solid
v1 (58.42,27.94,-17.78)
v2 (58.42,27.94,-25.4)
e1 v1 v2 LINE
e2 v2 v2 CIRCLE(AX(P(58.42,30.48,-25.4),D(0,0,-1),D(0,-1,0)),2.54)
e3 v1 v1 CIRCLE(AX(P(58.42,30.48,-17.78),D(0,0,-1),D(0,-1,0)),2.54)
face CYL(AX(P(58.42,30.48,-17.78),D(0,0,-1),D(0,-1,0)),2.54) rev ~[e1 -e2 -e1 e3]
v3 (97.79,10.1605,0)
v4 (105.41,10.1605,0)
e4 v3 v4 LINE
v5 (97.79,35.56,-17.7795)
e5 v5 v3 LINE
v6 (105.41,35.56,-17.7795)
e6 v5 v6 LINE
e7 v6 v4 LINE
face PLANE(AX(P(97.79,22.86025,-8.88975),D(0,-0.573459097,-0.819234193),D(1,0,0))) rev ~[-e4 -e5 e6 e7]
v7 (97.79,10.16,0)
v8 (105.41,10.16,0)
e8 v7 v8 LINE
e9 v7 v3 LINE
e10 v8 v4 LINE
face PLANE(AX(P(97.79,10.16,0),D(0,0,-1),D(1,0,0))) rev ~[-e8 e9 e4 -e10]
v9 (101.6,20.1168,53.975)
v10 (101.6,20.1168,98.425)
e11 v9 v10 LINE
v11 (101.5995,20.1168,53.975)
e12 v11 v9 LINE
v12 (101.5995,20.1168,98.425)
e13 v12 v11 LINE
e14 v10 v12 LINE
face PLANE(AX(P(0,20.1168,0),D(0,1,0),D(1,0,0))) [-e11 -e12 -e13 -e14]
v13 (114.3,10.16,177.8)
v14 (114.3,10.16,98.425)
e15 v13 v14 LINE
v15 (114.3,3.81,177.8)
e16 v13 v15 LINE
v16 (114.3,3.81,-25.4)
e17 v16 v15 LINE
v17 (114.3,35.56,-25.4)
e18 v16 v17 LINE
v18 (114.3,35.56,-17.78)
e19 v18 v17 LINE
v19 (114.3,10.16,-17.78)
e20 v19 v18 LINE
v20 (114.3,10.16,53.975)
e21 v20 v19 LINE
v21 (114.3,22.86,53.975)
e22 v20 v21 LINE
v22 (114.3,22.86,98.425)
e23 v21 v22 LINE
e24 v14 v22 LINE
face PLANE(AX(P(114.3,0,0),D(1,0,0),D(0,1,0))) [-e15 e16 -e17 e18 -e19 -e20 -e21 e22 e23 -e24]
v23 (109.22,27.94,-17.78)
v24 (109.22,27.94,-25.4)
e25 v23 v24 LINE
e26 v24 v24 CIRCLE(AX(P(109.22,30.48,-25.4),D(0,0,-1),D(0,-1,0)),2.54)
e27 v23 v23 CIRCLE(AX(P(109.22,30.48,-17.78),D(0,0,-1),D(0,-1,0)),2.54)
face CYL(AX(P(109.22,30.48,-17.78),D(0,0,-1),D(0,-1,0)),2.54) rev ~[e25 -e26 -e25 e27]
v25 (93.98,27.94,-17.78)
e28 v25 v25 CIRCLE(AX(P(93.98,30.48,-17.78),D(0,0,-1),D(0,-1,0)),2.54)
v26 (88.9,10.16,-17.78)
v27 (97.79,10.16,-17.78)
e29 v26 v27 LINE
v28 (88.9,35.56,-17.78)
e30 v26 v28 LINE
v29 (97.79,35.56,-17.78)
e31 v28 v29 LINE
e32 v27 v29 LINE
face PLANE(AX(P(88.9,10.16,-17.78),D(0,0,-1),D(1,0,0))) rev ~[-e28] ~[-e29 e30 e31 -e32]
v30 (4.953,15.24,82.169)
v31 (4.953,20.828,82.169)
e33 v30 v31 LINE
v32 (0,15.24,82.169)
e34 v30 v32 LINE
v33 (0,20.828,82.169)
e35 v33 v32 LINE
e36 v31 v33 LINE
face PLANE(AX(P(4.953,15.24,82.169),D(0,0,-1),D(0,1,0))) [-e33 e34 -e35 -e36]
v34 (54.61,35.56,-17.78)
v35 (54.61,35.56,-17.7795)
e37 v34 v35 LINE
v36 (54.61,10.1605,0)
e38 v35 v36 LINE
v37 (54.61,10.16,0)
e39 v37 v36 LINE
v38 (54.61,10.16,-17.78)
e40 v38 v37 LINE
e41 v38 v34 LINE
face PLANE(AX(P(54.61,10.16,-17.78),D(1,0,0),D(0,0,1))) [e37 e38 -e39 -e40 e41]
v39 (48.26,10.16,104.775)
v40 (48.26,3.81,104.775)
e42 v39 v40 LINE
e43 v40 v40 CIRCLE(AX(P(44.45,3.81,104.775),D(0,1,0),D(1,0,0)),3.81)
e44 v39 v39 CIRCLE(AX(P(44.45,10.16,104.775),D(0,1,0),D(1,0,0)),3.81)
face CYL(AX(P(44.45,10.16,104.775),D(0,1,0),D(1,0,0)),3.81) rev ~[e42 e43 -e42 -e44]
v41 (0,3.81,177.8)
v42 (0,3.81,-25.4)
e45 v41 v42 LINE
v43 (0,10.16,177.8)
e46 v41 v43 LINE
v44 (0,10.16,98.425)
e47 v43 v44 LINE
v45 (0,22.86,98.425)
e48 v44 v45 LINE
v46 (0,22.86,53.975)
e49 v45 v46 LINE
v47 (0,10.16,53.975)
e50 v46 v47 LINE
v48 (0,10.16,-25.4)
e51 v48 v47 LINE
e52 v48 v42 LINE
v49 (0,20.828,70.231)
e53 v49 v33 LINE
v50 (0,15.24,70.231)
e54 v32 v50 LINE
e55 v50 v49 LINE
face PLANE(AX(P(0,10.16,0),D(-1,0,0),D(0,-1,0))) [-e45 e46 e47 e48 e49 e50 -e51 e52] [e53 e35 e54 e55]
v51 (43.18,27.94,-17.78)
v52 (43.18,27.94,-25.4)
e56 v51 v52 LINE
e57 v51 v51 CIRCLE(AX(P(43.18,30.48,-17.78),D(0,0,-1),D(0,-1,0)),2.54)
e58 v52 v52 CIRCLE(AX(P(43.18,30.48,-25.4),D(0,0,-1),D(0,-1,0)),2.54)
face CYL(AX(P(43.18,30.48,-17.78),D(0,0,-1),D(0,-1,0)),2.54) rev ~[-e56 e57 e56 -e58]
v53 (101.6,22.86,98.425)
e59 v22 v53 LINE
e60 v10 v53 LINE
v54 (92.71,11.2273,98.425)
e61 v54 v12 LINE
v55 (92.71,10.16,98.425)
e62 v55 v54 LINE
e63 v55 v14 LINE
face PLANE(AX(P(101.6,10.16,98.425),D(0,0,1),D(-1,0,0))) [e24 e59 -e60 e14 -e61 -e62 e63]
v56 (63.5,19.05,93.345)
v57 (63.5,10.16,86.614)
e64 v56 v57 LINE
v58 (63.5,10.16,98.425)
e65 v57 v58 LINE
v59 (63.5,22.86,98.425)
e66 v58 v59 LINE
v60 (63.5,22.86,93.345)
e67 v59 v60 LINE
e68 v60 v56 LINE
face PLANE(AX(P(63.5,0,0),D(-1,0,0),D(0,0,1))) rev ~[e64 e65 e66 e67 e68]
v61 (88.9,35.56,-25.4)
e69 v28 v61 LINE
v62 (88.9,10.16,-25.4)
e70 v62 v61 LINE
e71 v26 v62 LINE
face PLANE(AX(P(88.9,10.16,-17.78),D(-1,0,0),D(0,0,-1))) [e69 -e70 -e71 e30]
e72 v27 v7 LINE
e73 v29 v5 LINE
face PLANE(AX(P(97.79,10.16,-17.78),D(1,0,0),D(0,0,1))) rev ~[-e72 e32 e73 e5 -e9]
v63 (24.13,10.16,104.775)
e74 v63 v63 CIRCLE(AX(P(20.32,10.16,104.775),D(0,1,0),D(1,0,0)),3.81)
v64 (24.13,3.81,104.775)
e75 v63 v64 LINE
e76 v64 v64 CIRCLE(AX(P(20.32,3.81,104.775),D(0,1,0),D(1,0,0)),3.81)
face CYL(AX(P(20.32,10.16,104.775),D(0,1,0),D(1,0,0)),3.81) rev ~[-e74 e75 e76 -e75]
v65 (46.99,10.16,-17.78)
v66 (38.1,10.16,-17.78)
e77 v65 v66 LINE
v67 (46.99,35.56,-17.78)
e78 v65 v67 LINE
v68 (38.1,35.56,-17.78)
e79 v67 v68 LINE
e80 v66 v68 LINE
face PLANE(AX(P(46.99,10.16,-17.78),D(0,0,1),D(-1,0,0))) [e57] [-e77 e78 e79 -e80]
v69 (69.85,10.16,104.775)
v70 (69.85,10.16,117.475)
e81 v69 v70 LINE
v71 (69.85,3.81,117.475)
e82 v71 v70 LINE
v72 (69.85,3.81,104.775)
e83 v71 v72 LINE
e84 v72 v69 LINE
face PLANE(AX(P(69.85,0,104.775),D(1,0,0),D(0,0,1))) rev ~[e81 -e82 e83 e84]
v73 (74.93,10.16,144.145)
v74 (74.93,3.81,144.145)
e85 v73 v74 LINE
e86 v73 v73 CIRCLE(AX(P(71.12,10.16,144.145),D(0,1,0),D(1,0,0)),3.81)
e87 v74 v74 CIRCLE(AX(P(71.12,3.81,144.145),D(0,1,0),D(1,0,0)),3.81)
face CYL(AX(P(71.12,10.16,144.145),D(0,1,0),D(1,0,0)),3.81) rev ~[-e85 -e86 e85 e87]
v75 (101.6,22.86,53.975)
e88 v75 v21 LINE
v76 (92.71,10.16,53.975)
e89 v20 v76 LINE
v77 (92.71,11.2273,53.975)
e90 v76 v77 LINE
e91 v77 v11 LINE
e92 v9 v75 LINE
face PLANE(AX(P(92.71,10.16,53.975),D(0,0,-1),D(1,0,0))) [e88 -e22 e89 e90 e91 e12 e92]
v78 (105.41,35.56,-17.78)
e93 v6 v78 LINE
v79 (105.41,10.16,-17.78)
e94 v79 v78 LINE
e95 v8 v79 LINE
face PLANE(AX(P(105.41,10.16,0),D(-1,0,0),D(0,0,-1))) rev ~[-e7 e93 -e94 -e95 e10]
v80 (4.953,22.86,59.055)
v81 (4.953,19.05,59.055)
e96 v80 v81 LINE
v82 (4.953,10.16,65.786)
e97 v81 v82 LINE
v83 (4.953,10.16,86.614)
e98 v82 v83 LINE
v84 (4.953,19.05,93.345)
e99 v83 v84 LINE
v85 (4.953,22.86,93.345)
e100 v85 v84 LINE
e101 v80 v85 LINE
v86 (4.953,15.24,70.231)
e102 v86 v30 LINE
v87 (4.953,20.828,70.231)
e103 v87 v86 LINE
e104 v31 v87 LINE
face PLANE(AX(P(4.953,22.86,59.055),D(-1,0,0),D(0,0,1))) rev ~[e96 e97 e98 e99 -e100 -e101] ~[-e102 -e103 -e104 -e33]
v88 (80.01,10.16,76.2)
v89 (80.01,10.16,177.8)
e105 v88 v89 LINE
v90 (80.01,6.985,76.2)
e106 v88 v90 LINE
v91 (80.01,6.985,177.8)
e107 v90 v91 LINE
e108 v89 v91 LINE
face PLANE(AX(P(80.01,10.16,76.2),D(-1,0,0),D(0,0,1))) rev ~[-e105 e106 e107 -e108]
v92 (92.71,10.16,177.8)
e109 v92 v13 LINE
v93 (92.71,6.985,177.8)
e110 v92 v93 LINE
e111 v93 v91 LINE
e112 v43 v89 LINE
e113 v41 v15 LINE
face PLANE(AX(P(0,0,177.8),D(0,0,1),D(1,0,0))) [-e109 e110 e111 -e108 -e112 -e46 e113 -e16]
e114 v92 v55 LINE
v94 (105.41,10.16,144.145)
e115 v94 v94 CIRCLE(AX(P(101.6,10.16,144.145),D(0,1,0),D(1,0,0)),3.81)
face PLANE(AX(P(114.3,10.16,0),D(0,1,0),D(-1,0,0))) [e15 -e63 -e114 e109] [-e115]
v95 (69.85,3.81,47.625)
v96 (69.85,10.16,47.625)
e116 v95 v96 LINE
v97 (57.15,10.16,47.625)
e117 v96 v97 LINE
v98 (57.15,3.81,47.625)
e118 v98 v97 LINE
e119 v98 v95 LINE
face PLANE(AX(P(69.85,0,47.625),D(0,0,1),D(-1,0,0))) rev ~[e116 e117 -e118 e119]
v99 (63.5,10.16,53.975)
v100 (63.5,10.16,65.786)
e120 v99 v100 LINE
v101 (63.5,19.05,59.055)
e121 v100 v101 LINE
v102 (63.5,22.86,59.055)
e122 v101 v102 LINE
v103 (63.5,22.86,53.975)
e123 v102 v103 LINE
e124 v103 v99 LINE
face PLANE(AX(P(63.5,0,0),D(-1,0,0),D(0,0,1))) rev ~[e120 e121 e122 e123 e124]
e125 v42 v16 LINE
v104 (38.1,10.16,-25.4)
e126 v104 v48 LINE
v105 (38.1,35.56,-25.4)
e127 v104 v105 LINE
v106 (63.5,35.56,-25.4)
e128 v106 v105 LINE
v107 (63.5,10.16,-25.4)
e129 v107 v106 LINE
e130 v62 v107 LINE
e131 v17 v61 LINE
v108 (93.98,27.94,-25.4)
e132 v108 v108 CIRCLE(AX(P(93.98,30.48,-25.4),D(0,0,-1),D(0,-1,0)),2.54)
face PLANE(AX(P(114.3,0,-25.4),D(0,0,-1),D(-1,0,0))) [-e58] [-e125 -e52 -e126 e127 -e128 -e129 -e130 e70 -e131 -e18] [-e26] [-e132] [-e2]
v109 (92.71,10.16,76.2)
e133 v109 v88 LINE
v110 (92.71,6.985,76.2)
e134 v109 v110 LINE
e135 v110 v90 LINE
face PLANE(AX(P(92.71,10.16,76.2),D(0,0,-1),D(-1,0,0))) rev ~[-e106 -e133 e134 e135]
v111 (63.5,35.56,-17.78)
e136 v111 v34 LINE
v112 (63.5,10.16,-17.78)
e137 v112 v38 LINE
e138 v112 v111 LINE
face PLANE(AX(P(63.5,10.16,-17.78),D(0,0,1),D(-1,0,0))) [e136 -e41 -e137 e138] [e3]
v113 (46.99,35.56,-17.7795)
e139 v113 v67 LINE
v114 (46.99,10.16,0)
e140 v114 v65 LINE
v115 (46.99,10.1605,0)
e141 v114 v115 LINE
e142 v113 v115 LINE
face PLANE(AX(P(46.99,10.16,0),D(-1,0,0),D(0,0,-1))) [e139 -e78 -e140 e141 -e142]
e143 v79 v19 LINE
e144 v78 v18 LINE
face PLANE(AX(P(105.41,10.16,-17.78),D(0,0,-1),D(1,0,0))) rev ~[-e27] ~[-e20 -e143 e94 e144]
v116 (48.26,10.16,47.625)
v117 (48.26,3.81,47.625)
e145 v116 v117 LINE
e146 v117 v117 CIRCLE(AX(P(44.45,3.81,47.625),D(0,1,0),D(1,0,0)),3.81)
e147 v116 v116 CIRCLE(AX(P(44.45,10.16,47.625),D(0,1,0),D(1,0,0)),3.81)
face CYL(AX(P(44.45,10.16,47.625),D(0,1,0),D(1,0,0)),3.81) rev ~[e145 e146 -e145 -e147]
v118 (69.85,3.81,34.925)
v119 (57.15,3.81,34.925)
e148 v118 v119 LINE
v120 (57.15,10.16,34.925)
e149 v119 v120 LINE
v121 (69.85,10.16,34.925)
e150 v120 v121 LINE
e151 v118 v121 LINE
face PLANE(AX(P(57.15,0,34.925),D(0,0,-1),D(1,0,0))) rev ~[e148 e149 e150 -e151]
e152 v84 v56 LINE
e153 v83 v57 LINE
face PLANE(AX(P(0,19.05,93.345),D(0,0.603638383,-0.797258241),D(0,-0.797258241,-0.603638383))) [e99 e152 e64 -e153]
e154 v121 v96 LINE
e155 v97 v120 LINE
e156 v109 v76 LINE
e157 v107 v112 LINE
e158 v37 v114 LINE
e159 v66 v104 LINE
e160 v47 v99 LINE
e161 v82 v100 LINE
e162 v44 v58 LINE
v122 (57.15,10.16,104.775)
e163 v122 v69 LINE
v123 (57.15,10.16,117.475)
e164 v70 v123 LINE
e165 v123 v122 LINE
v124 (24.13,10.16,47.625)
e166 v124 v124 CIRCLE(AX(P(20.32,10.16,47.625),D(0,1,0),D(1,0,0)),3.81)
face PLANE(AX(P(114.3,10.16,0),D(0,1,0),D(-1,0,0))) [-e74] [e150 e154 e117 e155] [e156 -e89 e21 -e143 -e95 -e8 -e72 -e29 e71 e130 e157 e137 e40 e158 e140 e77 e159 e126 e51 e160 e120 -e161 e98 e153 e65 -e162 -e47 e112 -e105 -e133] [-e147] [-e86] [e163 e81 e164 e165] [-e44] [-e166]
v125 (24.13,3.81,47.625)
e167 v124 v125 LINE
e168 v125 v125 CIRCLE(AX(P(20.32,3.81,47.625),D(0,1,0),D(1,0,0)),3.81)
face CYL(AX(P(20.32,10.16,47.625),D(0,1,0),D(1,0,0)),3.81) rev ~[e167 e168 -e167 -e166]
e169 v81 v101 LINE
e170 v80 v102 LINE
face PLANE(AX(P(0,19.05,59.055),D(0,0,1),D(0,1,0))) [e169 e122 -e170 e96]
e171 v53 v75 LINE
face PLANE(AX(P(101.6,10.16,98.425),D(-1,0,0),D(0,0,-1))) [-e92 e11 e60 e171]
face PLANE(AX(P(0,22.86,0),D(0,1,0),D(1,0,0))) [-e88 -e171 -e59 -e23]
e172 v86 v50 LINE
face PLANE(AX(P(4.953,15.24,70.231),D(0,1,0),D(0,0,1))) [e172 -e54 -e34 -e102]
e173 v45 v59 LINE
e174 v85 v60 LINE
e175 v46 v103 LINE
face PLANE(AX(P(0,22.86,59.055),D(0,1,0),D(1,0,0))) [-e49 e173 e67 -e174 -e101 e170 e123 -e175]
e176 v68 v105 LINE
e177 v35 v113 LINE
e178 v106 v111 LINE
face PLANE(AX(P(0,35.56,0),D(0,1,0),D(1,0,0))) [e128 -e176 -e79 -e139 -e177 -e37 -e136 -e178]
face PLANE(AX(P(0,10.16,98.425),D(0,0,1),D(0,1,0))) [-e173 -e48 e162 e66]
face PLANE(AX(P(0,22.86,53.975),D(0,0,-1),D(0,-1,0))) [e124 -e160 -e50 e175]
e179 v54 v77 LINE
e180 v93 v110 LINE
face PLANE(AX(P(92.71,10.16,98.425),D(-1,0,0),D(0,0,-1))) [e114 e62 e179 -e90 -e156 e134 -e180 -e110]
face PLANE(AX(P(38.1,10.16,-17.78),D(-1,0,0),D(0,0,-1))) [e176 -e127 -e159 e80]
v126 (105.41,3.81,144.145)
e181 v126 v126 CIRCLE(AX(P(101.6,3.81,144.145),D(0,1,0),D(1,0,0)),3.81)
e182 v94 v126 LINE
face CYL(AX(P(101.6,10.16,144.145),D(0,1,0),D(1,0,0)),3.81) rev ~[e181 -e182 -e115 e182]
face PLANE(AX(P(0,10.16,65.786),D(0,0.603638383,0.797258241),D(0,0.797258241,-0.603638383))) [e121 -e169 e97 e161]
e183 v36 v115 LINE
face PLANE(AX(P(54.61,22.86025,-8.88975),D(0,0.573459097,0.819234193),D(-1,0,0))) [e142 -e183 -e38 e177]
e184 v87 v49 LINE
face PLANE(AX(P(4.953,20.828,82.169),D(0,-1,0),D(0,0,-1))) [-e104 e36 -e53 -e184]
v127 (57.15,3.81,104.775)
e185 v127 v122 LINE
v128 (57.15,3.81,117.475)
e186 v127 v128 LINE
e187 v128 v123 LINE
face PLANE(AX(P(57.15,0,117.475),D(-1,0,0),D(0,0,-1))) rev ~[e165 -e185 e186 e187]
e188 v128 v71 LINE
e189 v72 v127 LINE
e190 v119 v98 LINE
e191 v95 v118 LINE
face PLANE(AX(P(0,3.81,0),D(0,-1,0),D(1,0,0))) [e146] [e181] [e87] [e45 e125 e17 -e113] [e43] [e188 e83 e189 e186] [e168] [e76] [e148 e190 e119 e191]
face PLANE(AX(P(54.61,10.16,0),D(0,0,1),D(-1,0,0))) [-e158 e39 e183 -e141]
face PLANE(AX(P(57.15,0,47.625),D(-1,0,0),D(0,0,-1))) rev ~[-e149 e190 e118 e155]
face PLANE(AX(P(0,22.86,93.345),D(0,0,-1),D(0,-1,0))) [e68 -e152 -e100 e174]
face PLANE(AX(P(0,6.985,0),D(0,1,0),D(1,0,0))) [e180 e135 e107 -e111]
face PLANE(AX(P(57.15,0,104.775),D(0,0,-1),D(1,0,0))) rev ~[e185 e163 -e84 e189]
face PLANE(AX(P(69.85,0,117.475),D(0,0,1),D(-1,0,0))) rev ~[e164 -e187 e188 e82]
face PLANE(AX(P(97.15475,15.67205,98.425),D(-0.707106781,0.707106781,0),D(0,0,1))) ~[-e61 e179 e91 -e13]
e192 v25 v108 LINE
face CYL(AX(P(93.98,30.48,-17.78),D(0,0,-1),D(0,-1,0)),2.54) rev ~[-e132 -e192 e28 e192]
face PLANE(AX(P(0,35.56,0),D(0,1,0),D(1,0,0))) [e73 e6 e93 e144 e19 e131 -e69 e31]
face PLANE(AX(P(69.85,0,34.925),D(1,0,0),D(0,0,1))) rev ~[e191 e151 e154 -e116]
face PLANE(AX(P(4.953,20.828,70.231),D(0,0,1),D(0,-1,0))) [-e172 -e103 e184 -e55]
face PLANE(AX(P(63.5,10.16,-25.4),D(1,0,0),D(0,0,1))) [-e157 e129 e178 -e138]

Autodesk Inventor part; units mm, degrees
ref_plane "YZ Plane" through (0, 0, 0) normal (1, 0, 0) x (0, 1, 0)
ref_plane "XZ Plane" through (0, 0, 0) normal (0, 1, 0) x (-1, 0, 0)
ref_plane "XY Plane" through (0, 0, 0) normal (0, 0, 1) x (1, 0, 0)
sketch "Sketch1" plane through (0, 0, 0) normal (0, 1, 0) x (-1, 0, 0)
  line L0 (0, 0) -> (-114.3, 0)
  line L1 (-114.3, 0) -> (-114.3, 152.4)
  line L2 (-114.3, 152.4) -> (0, 152.4)
  line L3 (0, 152.4) -> (0, 0)
  line L4 (-57.15, 34.925) -> (-69.85, 34.925)
  line L5 (-69.85, 34.925) -> (-69.85, 47.625)
  line L6 (-69.85, 47.625) -> (-57.15, 47.625)
  line L7 (-57.15, 47.625) -> (-57.15, 34.925)
  line L8 (-57.15, 104.775) -> (-69.85, 104.775)
  line L9 (-69.85, 104.775) -> (-69.85, 117.475)
  line L10 (-69.85, 117.475) -> (-57.15, 117.475)
  line L11 (-57.15, 117.475) -> (-57.15, 104.775)
  dimension "d0" = 152.4
  dimension "d1" = 114.3
  dimension "d2" = 12.7
  dimension "d3" = 12.7
  dimension "d4" = 12.7
  dimension "d5" = 12.7
  dimension "d6" = 34.925
  dimension "d7" = 34.925
  dimension "d8" = 44.45
  dimension "d9" = 44.45
extrude "Extrusion1" add sketch "Sketch1" along normal blind 10.16
sketch "Sketch2" plane through (0, 0, 0) normal (-1, 0, 0) x (0, 0, 1)
  line L0 (0, 10.16) -> (152.4, 10.16) projected
  line L1 (53.975, 10.16) -> (98.425, 10.16)
  line L2 (98.425, 10.16) -> (98.425, 22.86)
  line L3 (98.425, 22.86) -> (93.345, 22.86)
  line L4 (93.345, 22.86) -> (93.345, 19.05)
  line L5 (93.345, 19.05) -> (86.614, 10.16)
  line L6 (86.614, 10.16) -> (76.2, 10.16)
  line L7 (65.786, 10.16) -> (59.055, 19.05)
  line L8 (59.055, 19.05) -> (59.055, 22.86)
  line L9 (59.055, 22.86) -> (53.975, 22.86)
  line L10 (53.975, 22.86) -> (53.975, 10.16)
  line L11 (0, 0) -> (0, 10.16) projected
  dimension "d12" = 0
  dimension "d13" = 20.828
  dimension "d14" = 44.45
  dimension "d15" = 3.81
  dimension "d16" = 3.81
  dimension "d17" = 12.7
  dimension "d18" = 12.7
  dimension "d19" = 5.08
  dimension "d20" = 5.08
  dimension "d21" = 11.811
  dimension "d24" = 53.975
extrude "Extrusion2" add sketch "Sketch2" against normal blind 63.5
sketch "Sketch4" plane through (0, 10.16, 0) normal (0, 1, 0) x (1, 0, 0)
  circle A0 centre (20.32, -47.625) radius 3.81
  circle A1 centre (44.45, -47.625) radius 3.81
  circle A2 centre (20.32, -104.775) radius 3.81
  circle A3 centre (44.45, -104.775) radius 3.81
  line L0 (0, -53.975) -> (63.5, -53.975) projected
  line L1 (63.5, -98.425) -> (0, -98.425) projected
  line L2 (0, -98.425) -> (0, -152.4) projected
  line L3 (0, 0) -> (0, -53.975) projected
  dimension "d28" = 7.62
  dimension "d29" = 7.62
  dimension "d30" = 7.62
  dimension "d31" = 7.62
  dimension "d32" = 6.35
  dimension "d33" = 6.35
  dimension "d34" = 6.35
  dimension "d35" = 6.35
  dimension "d36" = 20.32
  dimension "d37" = 44.45
  dimension "d38" = 20.32
  dimension "d39" = 44.45
extrude "Extrusion4" cut sketch "Sketch4" against normal blind 10.16
sketch "Sketch5" plane through (0, 0, 152.4) normal (0, 0, 1) x (1, 0, 0)
  line L0 (0, 0) -> (114.3, 0) projected
  line L1 (0, 10.16) -> (114.3, 10.16)
  line L2 (114.3, 10.16) -> (114.3, 0)
  line L3 (114.3, 0) -> (0, 0)
  line L4 (0, 0) -> (0, 10.16)
extrude "Extrusion5" add sketch "Sketch5" along normal blind 25.4
sketch "Sketch6" plane through (114.3, 0, 0) normal (0, 0, -1) x (-1, 0, 0)
  line L0 (0, 10.16) -> (114.3, 10.16) projected
  line L1 (114.3, 0) -> (0, 0) projected
  line L2 (0, 10.16) -> (114.3, 10.16)
  line L3 (114.3, 10.16) -> (114.3, 0)
  line L4 (114.3, 0) -> (0, 0)
  line L5 (0, 0) -> (0, 10.16)
extrude "Extrusion6" add sketch "Sketch6" along normal blind 25.4
sketch "Sketch7" plane through (0, 10.16, 0) normal (0, 1, 0) x (1, 0, 0)
  line L0 (114.3, 25.4) -> (114.3, -177.8) projected
  line L1 (114.3, -98.425) -> (101.6, -98.425)
  line L2 (101.6, -98.425) -> (101.6, -53.975)
  line L3 (101.6, -53.975) -> (114.3, -53.975)
  line L4 (114.3, -53.975) -> (114.3, -98.425)
  line L5 (0, -98.425) -> (63.5, -98.425) projected
  line L6 (0, -53.975) -> (63.5, -53.975) projected
  point P0 (0, 0)
  dimension "d46" = 0
  dimension "d47" = 0
  dimension "d48" = 12.7
extrude "Extrusion7" add sketch "Sketch7" along normal blind 12.7
sketch "Sketch8" plane through (0, 10.16, 0) normal (0, 1, 0) x (1, 0, 0)
  line L0 (114.3, -177.8) -> (0, -177.8) projected
  line L1 (80.01, -177.8) -> (92.71, -177.8)
  line L2 (92.71, -177.8) -> (92.71, -76.2)
  line L3 (92.71, -76.2) -> (80.01, -76.2)
  line L4 (80.01, -76.2) -> (80.01, -177.8)
  line L5 (101.6, -98.425) -> (101.6, -53.975) projected
  point P0 (0, 0)
  dimension "d51" = 8.89
  dimension "d52" = 12.7
  dimension "d53" = 101.6
extrude "Extrusion8" cut sketch "Sketch8" against normal blind 3.175
sketch "Sketch9" plane through (0, 0, 0) normal (0, -1, 0) x (1, 0, 0)
  line L0 (0, 177.8) -> (0, -25.4) projected
  line L1 (114.3, 177.8) -> (92.71, 177.8) projected
  line L2 (0, -25.4) -> (114.3, -25.4)
  line L3 (114.3, -25.4) -> (114.3, 177.8)
  line L4 (114.3, 177.8) -> (0, 177.8)
  line L5 (0, 177.8) -> (0, -25.4)
  point P0 (0, 0)
extrude "Extrusion9" cut sketch "Sketch9" against normal blind 3.81
sketch "Sketch10" plane through (0, 10.16, 0) normal (0, 1, 0) x (1, 0, 0)
  circle A0 centre (71.12, -144.145) radius 3.81
  circle A1 centre (101.6, -144.145) radius 3.81
  line L0 (0, -93.345) -> (63.5, -93.345) projected
  line L1 (92.71, -76.2) -> (92.71, -177.8) projected
  line L2 (80.01, -177.8) -> (80.01, -76.2) projected
  point P0 (0, 0)
  dimension "d58" = 50.8
  dimension "d59" = 50.8
  dimension "d60" = 7.62
  dimension "d61" = 7.62
  dimension "d68" = 8.89
  dimension "d69" = 8.89
extrude "Extrusion10" cut sketch "Sketch10" against normal blind 25.4
sketch "Sketch13" plane through (0, 22.86, 59.055) normal (0, 1, 0) x (1, 0, 0)
  line L0 (0, 0) -> (63.5, 0) projected
  line L1 (0, -34.29) -> (63.5, -34.29) projected
  line L2 (0, 0) -> (4.953, 0)
  line L3 (4.953, 0) -> (4.953, -34.29)
  line L4 (4.953, -34.29) -> (0, -34.29)
  line L5 (0, -34.29) -> (0, 0)
  point P0 (0, 59.055)
  dimension "d70" = 4.953
extrude "Extrusion13" add sketch "Sketch13" against normal blind 12.7
sketch "Sketch14" plane through (4.953, 22.86, 93.345) normal (1, 0, 0) x (0, 0, -1)
  line L0 (11.176, -2.032) -> (23.114, -2.032)
  line L1 (23.114, -2.032) -> (23.114, -7.62)
  line L2 (23.114, -7.62) -> (11.176, -7.62)
  line L3 (11.176, -7.62) -> (11.176, -2.032)
  line L4 (27.559, -12.7) -> (6.731, -12.7) projected
  point P0 (93.345, -22.86)
  dimension "d73" = 5.08
  dimension "d74" = 5.588
  dimension "d75" = 4.445
  dimension "d76" = 4.445
extrude "Extrusion14" cut sketch "Sketch14" against normal blind 12.7
sketch "Sketch15" plane through (0, 10.16, 0) normal (0, 1, 0) x (1, 0, 0)
  line L0 (101.6, -98.425) -> (92.71, -98.425)
  line L1 (92.71, -98.425) -> (92.71, -53.975)
  line L2 (92.71, -53.975) -> (101.6, -53.975)
  line L3 (101.6, -53.975) -> (101.6, -98.425)
  line L4 (101.6, -53.975) -> (114.3, -53.975) projected
  line L5 (92.71, -76.2) -> (92.71, -177.8) projected
  point P0 (0, 0)
  point P1 (92.71, -176.403)
  dimension "d79" = 0
  dimension "d80" = 0
extrude "Extrusion15" add sketch "Sketch15" along normal blind 9.9568
chamfer "Chamfer1" distance 8.89 angle 45 1 edges at (92.71, 20.1168, 76.2)
sketch "Sketch19" plane through (0, 10.16, 0) normal (0, 1, 0) x (1, 0, 0)
  line L0 (114.3, 25.4) -> (88.9, 25.4)
  line L1 (114.3, 25.4) -> (0, 25.4) projected
  line L2 (88.9, 17.78) -> (97.79, 17.78)
  line L3 (97.79, 17.78) -> (97.79, 0)
  line L4 (97.79, 0) -> (105.41, 0)
  line L5 (105.41, 0) -> (105.41, 17.78)
  line L6 (105.41, 17.78) -> (114.3, 17.78)
  line L7 (114.3, -177.8) -> (114.3, 25.4) projected
  line L8 (114.3, 17.78) -> (114.3, 25.4)
  line L9 (88.9, 17.78) -> (88.9, 25.4)
  line L10 (63.5, 25.4) -> (63.5, 17.78)
  line L11 (63.5, 17.78) -> (54.61, 17.78)
  line L12 (54.61, 17.78) -> (54.61, 0)
  line L13 (54.61, 0) -> (46.99, 0)
  line L14 (46.99, 0) -> (46.99, 17.78)
  line L15 (46.99, 17.78) -> (38.1, 17.78)
  line L16 (38.1, 17.78) -> (38.1, 25.4)
  line L17 (63.5, 25.4) -> (38.1, 25.4)
  point P0 (0, 0)
  dimension "d118" = 25.4
  dimension "d119" = 25.4
  dimension "d120" = 25.4
  dimension "d121" = 7.62
  dimension "d122" = 7.62
  dimension "d123" = 8.89
  dimension "d124" = 7.62
  dimension "d125" = 17.78
  dimension "d126" = 17.78
  dimension "d127" = 7.62
  dimension "d128" = 8.89
extrude "Extrusion18" add sketch "Sketch19" along normal blind 25.4
chamfer "Chamfer4" distance 17.78 distance2 25.4 1 edges at (50.8, 35.56, 0) measured on face at (52.07, 35.56, -22.86)
chamfer "Chamfer5" distance 17.78 distance2 25.4 1 edges at (101.6, 35.56, 0) measured on face at (100.33, 35.56, -22.86)
sketch "Sketch20" plane through (54.61, 10.16, -17.78) normal (0, 0, 1) x (1, 0, 0)
  line L0 (-16.51, 25.4) -> (-7.62, 25.4) projected
  line L1 (-16.51, 0) -> (-16.51, 25.4) projected
  line L2 (0, 25.4) -> (8.89, 25.4) projected
  line L3 (8.89, 0) -> (8.89, 25.4) projected
  line L4 (34.29, 0) -> (34.29, 25.4) projected
  line L5 (34.29, 25.4) -> (43.18, 25.4) projected
  line L6 (50.8, 25.4) -> (59.69, 25.4) projected
  line L7 (59.69, 0) -> (59.69, 25.4) projected
  point P0 (-54.61, -10.16)
  point P1 (-11.43, 20.32)
  point P2 (3.81, 20.32)
  point P3 (39.37, 20.32)
  point P4 (54.61, 20.32)
  dimension "d137" = 5.08
  dimension "d138" = 5.08
  dimension "d139" = 5.08
  dimension "d140" = 5.08
  dimension "d141" = 5.08
  dimension "d142" = 5.08
  dimension "d143" = 5.08
  dimension "d144" = 5.08
hole "Hole1" at (43.18, 30.48, -17.78) at (58.42, 30.48, -17.78) at (93.98, 30.48, -17.78) at (109.22, 30.48, -17.78) direction (0, 0, -1) diameter 5.08 end through all
properties part number "Elevator Slide Top"
